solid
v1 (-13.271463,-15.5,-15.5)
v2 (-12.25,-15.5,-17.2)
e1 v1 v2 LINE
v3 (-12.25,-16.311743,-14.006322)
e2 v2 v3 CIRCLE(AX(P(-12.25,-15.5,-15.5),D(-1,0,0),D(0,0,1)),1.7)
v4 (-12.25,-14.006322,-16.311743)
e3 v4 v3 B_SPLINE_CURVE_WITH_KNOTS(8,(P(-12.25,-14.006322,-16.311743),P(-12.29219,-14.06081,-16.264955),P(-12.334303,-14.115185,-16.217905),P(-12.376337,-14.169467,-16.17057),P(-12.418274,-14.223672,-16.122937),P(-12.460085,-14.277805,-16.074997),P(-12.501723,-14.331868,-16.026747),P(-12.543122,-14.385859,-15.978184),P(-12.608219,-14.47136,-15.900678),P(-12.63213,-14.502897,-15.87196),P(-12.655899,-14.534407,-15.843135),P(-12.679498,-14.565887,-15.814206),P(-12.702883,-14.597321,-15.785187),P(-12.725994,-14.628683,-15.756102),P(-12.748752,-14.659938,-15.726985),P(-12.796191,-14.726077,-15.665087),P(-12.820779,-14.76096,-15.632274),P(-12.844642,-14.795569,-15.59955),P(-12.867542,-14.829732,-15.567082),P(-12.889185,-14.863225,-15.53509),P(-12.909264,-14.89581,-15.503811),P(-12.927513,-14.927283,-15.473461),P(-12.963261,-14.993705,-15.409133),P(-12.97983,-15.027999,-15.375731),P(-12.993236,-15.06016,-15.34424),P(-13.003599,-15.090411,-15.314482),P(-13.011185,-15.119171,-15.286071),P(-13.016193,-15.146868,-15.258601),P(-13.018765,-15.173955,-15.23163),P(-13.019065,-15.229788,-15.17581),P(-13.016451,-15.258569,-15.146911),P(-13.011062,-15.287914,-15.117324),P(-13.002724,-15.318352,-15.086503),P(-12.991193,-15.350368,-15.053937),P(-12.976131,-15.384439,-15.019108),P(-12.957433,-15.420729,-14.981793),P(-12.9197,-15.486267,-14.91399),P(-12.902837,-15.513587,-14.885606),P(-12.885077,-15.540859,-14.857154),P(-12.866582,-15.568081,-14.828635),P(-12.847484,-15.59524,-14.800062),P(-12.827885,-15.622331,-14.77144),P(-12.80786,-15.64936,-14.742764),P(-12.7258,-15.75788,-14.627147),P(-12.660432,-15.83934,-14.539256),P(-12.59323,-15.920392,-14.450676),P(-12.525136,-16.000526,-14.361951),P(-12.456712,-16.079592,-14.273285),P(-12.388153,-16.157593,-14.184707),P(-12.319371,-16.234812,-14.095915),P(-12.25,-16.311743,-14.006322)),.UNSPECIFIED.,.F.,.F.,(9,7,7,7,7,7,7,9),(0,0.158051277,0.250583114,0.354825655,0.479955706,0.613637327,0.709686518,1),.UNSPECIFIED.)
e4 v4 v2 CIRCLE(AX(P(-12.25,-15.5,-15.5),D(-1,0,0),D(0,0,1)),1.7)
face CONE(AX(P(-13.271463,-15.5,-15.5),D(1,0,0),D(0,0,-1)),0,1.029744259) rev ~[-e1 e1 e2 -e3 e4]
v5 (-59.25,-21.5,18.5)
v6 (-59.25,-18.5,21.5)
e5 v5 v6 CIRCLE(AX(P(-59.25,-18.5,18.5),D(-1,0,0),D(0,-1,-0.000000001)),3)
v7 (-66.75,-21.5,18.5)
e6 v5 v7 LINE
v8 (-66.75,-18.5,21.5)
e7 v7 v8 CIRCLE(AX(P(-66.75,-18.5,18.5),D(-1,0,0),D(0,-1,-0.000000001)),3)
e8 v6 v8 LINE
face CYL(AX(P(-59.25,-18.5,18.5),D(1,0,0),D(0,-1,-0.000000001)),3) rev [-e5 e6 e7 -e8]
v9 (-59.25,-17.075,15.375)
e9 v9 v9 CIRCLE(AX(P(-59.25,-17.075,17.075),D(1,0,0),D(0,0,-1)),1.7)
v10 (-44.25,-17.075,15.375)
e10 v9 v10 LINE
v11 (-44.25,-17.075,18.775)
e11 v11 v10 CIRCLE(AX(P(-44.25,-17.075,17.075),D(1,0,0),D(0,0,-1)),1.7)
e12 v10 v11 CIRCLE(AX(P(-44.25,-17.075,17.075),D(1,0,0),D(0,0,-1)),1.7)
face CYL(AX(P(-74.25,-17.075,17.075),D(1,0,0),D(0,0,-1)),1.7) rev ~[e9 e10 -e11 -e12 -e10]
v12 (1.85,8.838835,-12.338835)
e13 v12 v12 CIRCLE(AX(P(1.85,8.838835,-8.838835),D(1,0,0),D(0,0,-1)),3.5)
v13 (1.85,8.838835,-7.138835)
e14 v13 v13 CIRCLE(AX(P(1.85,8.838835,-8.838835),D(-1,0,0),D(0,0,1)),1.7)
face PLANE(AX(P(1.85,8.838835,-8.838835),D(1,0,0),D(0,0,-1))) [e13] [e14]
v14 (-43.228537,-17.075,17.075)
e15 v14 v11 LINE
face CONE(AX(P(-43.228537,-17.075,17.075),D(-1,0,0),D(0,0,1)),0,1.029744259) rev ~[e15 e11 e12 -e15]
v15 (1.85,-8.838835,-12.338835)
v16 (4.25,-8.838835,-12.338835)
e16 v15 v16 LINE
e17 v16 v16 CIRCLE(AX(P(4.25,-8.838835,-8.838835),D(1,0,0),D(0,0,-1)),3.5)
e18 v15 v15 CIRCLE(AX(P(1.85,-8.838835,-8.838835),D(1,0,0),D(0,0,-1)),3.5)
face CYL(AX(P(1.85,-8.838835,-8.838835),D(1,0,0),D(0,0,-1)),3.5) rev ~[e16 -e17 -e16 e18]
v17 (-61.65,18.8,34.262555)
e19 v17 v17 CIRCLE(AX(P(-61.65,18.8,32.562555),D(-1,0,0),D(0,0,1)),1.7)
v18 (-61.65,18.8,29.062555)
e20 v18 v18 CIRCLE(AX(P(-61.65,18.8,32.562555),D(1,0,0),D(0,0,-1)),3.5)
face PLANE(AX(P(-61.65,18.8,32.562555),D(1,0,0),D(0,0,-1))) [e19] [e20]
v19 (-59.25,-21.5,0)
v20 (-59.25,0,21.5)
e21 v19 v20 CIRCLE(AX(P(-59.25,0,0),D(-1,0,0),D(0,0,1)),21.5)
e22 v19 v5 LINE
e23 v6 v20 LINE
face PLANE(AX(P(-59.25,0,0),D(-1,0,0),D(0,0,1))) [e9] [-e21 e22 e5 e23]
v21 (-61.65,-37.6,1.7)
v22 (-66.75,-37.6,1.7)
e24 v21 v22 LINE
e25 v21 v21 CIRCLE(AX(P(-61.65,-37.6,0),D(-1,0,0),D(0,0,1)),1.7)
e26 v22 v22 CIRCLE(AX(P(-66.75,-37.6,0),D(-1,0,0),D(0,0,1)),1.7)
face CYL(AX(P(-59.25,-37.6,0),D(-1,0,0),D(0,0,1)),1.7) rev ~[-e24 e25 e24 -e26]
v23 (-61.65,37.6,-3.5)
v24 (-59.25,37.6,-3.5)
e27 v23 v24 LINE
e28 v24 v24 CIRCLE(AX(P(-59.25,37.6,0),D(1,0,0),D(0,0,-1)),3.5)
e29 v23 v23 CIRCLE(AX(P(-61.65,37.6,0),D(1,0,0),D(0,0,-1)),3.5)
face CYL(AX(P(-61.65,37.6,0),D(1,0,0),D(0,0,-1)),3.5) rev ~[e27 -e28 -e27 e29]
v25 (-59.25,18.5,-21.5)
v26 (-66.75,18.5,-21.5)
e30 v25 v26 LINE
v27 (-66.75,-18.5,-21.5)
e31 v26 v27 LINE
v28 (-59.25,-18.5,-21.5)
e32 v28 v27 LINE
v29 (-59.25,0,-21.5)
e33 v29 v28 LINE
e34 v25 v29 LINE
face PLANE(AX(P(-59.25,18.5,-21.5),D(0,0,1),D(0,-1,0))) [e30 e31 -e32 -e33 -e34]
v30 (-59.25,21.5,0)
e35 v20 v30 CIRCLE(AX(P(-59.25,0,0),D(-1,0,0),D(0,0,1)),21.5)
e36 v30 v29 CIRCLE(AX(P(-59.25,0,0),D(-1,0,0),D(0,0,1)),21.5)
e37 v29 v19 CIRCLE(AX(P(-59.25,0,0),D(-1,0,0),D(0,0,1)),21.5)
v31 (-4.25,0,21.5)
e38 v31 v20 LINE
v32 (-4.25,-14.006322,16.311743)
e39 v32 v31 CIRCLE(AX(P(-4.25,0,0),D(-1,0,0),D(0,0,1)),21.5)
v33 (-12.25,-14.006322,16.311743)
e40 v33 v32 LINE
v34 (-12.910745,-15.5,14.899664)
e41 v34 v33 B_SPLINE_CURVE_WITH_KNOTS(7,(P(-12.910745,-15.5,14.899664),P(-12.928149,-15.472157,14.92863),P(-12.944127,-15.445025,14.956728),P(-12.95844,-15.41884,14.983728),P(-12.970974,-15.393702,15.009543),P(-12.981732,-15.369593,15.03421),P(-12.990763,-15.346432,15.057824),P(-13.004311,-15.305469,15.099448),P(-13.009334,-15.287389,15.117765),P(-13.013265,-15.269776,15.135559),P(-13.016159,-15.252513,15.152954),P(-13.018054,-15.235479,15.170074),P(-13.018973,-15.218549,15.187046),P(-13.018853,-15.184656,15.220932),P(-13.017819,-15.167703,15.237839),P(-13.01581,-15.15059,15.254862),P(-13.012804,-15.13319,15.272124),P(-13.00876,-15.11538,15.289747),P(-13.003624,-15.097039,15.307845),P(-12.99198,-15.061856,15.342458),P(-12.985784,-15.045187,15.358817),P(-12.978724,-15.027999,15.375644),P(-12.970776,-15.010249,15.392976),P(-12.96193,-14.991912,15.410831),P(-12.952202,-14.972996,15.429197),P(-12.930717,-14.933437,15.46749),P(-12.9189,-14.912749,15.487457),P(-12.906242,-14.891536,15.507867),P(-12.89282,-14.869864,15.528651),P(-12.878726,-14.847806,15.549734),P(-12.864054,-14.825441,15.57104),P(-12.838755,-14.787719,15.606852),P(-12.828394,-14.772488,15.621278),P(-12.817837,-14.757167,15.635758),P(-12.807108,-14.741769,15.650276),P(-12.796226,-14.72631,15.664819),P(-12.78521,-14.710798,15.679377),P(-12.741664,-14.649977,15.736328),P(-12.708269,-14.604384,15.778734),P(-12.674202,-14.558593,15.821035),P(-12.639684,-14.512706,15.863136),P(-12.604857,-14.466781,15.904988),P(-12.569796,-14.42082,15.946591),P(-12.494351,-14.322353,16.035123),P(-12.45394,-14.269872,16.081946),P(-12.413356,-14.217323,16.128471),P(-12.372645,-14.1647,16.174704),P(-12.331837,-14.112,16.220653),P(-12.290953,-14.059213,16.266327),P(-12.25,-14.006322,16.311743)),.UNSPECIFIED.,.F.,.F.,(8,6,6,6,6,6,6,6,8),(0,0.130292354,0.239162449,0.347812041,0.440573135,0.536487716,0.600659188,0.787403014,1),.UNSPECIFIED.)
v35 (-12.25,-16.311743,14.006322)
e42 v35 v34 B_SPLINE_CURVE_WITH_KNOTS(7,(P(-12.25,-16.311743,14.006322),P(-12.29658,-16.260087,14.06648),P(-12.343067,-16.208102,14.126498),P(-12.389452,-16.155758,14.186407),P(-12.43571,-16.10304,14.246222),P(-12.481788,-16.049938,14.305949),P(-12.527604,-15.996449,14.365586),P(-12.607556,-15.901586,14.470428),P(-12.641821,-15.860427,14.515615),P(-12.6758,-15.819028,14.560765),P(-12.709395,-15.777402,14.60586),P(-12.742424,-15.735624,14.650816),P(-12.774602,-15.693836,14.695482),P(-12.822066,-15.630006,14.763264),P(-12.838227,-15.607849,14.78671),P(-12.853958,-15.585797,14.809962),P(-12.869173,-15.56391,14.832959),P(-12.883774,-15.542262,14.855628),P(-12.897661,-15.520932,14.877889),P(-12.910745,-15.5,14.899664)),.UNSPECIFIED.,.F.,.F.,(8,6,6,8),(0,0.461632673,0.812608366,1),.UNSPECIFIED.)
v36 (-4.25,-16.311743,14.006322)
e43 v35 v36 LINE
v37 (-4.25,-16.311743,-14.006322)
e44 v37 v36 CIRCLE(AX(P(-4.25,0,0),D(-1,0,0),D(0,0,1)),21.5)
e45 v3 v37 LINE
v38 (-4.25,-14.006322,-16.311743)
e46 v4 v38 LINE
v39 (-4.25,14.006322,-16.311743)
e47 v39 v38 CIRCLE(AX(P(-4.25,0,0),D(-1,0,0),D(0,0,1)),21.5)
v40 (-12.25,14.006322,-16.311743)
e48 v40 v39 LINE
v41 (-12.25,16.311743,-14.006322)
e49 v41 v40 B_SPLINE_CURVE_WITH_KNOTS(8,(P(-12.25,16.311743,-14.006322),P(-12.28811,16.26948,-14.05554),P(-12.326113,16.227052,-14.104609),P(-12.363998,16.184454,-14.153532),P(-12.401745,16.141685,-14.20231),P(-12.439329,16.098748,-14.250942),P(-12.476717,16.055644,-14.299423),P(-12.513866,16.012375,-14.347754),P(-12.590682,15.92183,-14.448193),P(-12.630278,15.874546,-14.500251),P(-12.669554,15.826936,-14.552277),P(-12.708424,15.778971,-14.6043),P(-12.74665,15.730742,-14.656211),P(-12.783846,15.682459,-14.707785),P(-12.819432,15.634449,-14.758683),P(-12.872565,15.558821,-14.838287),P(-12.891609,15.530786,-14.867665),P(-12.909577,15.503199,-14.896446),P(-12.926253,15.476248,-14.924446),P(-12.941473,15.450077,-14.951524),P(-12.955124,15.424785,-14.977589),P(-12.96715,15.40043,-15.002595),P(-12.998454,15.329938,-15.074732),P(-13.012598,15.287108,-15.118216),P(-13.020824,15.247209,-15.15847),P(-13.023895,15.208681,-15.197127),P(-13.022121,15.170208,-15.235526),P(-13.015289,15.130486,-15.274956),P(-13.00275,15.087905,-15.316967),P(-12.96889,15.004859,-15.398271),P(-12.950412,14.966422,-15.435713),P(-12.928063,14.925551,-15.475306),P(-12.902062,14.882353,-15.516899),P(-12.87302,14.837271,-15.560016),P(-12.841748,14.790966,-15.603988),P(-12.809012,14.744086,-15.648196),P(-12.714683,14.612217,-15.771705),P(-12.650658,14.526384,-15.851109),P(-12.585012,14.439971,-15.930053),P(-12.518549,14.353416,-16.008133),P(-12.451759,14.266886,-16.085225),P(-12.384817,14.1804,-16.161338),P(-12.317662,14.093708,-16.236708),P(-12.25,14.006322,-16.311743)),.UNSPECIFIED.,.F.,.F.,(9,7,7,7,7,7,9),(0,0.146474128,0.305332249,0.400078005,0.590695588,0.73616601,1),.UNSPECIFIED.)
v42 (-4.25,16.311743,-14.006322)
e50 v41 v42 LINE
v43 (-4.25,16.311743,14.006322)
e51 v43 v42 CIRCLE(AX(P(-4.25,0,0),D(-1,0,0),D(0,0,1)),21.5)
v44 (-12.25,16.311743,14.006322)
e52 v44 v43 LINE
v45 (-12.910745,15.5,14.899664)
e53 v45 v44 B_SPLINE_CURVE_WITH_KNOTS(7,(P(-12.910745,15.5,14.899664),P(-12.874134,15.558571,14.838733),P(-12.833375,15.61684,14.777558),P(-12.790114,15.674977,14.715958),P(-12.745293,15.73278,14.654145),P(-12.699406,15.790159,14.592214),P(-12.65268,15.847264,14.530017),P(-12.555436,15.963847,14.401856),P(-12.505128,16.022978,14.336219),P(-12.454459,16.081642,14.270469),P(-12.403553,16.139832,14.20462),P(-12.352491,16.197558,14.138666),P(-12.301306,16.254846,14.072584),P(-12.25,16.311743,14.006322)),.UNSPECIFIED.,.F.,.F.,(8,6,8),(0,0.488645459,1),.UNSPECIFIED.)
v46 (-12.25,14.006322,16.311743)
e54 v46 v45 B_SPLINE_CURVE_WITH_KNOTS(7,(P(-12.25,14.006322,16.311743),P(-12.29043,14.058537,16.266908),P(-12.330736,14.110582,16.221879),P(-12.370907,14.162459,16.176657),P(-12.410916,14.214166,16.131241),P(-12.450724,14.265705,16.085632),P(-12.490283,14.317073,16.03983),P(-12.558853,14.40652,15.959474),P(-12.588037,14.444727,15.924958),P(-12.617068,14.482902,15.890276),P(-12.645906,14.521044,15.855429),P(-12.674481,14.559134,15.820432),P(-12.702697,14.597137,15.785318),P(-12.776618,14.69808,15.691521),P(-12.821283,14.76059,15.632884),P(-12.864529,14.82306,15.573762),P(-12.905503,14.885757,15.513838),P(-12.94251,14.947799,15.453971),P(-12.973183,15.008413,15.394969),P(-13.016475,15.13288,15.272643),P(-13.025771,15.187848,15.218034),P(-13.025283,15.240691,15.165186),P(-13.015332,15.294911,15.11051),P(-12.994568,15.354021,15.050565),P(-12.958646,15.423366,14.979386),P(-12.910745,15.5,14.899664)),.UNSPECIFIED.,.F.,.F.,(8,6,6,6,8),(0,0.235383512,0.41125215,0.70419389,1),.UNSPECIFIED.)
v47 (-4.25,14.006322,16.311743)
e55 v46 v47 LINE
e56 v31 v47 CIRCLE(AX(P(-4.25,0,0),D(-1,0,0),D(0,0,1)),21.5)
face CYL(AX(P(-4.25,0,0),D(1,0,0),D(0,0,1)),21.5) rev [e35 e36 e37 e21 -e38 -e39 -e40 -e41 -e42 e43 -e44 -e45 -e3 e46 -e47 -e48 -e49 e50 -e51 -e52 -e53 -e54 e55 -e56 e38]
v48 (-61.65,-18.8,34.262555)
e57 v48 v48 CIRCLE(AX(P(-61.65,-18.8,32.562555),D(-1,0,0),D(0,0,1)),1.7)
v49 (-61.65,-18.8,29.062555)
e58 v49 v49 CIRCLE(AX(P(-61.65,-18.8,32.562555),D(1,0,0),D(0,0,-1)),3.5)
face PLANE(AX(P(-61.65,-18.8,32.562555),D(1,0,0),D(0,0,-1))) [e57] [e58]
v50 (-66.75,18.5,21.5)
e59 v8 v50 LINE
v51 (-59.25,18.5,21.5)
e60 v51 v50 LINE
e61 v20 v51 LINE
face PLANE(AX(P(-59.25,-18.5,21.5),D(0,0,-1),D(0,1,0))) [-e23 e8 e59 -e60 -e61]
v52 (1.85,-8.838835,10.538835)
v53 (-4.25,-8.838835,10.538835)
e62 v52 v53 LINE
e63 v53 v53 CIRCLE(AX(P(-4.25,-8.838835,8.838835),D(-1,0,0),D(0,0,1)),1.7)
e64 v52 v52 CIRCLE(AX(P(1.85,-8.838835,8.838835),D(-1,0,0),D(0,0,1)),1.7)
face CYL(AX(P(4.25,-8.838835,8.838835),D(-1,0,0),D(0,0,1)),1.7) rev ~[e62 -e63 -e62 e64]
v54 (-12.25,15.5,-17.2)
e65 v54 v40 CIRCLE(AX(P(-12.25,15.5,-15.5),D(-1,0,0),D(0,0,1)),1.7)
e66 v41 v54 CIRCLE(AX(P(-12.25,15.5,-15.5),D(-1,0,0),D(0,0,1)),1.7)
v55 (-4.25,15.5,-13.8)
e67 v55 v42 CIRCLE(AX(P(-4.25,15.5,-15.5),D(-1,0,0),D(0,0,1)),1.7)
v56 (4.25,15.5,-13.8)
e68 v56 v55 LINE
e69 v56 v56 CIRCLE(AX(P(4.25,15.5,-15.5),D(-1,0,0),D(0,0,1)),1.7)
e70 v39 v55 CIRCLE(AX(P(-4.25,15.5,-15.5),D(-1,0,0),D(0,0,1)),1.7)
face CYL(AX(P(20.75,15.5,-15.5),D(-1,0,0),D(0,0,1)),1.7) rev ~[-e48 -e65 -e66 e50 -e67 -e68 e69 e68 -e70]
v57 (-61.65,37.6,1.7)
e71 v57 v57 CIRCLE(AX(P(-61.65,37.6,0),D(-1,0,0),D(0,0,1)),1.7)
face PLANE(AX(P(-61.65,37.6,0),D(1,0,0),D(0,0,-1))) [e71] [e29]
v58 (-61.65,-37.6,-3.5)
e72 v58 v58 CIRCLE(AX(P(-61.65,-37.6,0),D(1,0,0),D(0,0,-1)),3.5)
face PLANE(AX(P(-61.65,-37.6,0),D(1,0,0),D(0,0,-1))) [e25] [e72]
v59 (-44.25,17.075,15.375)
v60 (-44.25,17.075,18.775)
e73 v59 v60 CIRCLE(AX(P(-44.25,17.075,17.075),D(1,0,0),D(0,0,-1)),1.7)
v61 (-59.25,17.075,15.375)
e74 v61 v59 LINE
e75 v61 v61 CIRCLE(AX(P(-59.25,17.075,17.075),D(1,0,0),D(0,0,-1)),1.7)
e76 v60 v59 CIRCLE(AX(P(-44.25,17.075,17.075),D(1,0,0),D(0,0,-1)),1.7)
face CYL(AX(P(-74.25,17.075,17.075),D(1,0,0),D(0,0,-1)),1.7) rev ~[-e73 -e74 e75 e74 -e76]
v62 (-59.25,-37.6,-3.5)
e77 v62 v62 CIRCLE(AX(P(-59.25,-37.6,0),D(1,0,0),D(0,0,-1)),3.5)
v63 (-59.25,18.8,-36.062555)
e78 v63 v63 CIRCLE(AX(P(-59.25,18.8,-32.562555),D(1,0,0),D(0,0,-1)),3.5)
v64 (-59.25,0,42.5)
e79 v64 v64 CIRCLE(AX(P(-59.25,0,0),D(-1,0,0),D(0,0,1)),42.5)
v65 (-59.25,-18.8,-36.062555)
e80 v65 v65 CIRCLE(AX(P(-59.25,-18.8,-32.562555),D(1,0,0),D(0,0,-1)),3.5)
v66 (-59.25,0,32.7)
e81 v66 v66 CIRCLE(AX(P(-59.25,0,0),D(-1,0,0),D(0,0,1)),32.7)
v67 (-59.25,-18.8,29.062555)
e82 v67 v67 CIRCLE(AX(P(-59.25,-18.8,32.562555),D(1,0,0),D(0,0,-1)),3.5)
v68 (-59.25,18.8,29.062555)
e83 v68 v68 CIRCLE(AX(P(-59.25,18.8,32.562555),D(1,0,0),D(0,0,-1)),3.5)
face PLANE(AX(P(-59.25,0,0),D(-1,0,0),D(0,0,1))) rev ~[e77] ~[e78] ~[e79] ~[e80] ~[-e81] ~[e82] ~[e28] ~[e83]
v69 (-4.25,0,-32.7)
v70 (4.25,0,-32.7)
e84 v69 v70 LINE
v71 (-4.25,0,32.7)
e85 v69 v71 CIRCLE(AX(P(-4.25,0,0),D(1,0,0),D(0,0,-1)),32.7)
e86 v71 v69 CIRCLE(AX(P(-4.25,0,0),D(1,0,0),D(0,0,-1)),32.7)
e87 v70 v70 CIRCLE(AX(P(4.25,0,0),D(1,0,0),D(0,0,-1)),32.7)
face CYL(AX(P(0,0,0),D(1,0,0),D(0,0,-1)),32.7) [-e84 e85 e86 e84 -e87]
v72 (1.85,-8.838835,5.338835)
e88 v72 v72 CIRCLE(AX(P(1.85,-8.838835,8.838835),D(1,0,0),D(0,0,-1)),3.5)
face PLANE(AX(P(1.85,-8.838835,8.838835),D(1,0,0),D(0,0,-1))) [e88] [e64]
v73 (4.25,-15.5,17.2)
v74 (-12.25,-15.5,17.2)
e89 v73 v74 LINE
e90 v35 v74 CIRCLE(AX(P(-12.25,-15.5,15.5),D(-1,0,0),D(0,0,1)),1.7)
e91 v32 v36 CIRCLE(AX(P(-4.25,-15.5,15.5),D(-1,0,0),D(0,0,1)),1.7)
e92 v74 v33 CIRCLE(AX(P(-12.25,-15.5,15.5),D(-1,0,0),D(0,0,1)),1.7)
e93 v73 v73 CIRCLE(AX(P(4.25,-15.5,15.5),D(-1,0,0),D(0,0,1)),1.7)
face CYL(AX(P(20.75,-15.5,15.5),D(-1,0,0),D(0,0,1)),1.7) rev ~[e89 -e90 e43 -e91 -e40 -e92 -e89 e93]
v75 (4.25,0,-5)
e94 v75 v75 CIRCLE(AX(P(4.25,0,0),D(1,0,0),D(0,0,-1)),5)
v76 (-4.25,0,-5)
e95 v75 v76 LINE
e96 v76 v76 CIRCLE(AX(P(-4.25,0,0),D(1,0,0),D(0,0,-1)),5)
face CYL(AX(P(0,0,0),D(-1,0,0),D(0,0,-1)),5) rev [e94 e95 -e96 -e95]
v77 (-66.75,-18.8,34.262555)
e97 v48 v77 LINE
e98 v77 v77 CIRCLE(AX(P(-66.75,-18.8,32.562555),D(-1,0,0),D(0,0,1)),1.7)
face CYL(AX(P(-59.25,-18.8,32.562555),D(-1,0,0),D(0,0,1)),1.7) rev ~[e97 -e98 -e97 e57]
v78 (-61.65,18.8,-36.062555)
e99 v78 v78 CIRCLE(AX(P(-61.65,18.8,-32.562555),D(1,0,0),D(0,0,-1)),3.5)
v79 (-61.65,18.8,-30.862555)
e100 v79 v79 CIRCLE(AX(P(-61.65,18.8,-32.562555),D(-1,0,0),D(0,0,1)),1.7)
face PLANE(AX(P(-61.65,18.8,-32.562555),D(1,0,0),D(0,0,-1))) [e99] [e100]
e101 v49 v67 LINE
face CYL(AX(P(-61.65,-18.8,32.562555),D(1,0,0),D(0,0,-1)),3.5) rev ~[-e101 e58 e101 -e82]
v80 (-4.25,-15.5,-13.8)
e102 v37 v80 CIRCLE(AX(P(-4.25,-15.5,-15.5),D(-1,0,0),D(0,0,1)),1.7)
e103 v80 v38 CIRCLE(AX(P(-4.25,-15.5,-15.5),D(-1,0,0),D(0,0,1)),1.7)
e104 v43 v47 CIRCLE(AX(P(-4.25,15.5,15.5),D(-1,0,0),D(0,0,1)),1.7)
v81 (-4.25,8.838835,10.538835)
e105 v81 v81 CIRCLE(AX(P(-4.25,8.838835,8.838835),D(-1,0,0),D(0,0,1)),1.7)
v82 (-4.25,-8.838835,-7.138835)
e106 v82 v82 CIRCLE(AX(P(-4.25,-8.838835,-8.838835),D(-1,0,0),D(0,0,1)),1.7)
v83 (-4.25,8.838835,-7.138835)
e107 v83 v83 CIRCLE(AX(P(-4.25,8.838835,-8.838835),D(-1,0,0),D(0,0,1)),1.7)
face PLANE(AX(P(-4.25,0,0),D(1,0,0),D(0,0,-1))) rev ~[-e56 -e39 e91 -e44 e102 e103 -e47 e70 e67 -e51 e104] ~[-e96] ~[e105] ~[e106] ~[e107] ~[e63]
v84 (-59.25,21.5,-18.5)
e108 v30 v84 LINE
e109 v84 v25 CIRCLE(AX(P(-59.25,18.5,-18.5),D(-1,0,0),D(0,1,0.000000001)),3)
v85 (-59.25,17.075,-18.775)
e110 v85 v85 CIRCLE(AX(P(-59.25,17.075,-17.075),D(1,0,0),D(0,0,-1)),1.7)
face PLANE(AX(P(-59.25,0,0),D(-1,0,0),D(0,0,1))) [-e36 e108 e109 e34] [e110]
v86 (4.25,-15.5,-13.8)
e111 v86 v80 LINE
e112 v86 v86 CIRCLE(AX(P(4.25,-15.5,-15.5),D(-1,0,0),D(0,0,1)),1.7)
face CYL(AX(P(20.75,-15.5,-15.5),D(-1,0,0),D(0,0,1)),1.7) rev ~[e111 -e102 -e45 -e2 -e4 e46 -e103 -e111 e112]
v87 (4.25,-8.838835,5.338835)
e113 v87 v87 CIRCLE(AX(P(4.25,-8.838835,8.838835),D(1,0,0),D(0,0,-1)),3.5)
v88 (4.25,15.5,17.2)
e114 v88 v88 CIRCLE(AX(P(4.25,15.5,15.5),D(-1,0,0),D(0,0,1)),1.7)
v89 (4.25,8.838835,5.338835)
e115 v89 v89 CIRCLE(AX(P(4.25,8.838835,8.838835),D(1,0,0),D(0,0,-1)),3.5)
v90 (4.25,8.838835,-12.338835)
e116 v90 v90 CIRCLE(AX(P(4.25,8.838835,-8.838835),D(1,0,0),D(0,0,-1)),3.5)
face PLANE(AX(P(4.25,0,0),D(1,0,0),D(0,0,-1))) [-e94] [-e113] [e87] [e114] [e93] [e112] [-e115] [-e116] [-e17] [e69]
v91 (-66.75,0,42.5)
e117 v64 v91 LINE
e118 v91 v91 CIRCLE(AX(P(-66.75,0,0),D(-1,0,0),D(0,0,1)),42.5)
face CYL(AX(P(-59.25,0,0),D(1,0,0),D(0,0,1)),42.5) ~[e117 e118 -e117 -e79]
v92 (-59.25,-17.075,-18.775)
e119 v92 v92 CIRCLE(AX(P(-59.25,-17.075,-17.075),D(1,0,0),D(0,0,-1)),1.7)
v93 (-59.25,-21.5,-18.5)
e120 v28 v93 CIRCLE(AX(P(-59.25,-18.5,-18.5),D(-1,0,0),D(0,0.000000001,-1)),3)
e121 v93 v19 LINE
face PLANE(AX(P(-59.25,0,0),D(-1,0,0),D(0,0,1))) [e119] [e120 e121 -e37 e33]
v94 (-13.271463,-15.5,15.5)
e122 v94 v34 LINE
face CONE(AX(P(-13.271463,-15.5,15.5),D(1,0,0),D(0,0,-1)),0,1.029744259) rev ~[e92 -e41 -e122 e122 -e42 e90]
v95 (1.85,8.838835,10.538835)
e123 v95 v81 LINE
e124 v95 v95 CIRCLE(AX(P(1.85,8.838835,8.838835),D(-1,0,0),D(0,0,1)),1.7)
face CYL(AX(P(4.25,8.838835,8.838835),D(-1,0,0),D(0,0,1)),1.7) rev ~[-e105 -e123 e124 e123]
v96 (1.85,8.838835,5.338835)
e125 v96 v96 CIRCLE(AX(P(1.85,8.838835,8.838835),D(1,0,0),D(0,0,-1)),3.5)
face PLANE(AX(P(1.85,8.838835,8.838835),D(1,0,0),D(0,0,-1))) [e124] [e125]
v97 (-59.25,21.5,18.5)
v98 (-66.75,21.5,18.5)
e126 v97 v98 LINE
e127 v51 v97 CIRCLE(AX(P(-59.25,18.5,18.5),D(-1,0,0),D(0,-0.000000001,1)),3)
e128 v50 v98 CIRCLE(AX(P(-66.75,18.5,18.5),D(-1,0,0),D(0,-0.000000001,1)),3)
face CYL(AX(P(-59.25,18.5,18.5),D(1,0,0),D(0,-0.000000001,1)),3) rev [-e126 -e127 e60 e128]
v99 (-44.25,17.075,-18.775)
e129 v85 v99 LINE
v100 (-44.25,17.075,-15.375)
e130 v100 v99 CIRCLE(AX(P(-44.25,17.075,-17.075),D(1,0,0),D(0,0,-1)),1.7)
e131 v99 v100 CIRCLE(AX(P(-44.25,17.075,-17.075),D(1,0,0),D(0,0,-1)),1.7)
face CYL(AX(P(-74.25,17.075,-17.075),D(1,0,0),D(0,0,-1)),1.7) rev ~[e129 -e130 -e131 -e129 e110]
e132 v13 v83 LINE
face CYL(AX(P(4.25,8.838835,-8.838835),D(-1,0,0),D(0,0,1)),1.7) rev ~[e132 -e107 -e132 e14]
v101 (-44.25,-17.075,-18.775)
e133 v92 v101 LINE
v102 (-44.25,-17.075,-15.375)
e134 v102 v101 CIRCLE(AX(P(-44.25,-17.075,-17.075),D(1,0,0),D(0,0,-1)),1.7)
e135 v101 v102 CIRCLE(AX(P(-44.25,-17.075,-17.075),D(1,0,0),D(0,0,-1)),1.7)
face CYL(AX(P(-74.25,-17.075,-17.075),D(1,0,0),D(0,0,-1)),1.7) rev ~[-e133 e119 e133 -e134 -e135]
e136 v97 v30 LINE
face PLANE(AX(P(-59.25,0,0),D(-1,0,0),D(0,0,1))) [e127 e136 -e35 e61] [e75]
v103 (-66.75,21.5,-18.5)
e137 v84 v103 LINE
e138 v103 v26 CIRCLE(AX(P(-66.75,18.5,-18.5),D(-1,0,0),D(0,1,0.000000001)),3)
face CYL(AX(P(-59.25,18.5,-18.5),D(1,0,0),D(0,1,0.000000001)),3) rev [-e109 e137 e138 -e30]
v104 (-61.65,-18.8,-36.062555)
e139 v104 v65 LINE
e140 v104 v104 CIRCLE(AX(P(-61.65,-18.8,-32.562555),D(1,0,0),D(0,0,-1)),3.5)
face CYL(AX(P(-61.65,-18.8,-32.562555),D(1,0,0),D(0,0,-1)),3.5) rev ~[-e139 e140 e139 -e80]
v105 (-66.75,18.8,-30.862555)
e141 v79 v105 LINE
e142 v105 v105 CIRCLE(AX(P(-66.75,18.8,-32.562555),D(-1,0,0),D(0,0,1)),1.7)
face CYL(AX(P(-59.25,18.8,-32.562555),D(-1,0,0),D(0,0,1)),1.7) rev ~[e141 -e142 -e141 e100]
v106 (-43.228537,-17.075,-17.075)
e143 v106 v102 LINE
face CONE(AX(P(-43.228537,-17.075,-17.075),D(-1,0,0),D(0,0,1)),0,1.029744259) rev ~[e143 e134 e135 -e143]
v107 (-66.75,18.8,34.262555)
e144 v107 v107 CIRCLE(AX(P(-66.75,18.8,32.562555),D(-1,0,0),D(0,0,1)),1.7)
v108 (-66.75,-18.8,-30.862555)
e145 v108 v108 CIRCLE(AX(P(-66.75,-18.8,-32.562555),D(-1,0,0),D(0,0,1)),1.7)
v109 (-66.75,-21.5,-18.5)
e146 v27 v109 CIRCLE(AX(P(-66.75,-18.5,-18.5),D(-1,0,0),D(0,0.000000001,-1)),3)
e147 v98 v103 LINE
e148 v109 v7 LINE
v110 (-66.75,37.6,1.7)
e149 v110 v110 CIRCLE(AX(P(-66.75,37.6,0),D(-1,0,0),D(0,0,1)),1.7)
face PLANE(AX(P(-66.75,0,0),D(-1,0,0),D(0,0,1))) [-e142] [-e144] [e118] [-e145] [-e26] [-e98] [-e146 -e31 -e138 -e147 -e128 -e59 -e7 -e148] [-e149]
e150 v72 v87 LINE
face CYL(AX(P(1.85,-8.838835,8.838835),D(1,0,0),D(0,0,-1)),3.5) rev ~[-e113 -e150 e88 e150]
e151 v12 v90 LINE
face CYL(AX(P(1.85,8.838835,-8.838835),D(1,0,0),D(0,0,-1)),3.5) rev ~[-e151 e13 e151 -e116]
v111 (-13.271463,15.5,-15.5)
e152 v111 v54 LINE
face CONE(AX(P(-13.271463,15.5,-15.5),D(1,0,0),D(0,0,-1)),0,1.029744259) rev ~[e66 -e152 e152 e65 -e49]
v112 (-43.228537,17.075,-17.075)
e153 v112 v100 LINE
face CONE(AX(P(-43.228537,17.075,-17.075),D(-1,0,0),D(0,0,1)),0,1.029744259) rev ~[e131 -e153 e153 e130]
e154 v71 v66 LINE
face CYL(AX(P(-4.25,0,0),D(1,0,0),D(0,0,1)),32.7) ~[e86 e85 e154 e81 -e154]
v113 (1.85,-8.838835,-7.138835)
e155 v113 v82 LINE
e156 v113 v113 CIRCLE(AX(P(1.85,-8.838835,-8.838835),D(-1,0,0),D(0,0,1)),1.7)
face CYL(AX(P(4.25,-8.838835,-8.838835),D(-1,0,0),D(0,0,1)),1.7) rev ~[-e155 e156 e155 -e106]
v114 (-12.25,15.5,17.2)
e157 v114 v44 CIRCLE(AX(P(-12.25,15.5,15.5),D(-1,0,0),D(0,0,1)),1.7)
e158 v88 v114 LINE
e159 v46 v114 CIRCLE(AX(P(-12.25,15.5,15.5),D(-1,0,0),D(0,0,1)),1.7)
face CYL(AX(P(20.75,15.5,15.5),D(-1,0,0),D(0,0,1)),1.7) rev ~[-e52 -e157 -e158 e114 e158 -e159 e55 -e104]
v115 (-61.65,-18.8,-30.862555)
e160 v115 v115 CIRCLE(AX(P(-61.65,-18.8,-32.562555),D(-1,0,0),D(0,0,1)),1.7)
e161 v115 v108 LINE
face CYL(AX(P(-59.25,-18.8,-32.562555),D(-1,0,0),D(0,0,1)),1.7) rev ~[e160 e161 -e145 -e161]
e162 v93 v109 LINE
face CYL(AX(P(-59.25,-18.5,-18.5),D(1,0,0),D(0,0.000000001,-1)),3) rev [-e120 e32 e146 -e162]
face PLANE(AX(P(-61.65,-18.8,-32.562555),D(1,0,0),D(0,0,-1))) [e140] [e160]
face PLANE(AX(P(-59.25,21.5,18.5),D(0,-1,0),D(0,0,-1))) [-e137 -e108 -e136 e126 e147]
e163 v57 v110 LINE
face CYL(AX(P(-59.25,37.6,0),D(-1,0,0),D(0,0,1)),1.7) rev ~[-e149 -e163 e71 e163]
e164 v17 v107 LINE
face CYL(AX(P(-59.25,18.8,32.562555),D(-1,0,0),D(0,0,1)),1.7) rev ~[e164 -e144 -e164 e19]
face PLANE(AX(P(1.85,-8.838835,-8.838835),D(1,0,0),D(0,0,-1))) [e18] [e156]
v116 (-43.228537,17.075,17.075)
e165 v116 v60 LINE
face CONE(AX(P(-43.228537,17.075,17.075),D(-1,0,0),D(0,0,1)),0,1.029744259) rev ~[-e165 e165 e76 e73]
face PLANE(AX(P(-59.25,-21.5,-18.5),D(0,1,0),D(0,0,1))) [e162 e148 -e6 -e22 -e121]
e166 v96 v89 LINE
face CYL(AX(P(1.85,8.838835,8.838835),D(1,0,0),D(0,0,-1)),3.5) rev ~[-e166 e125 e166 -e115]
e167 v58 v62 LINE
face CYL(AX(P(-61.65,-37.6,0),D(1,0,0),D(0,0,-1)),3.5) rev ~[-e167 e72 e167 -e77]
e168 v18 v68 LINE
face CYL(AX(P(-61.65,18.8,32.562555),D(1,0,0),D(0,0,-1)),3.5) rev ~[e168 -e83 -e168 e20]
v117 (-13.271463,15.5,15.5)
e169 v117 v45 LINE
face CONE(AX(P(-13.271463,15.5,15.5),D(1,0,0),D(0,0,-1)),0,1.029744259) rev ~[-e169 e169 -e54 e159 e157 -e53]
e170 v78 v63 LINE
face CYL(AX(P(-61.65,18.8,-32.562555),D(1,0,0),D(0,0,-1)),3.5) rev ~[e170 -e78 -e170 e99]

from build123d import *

# Parameters (mm, degrees)
CROQUIS1_R                                           = 32.7
CROQUIS1_R_2                                         = 5
SALIENTE_EXTRUIR1_DEPTH                              = 4.25
REFRENTADO_PARA_TORNILLO_CON_CABEZA_TRON_D           = 3.4
REFRENTADO_PARA_TORNILLO_CON_CABEZA_TRON_CBORE_D     = 7
REFRENTADO_PARA_TORNILLO_CON_CABEZA_TRON_CBORE_DEPTH = 2.4
CROQUIS5_R                                           = 32.7
CROQUIS5_R_2                                         = 21.5
SALIENTE_EXTRUIR2_DEPTH                              = 55
TALADRO_DE_MARGEN_PARA_M31_D                         = 3.4
TALADRO_DE_MARGEN_PARA_M31_DEPTH                     = 15
TALADRO_DE_MARGEN_PARA_M31_TIP                       = 1.021463052
TALADRO_DE_MARGEN_PARA_M32_D                         = 3.4
TALADRO_DE_MARGEN_PARA_M32_DEPTH                     = 16.5
TALADRO_DE_MARGEN_PARA_M32_TIP                       = 1.021463052
CROQUIS16_R                                          = 42.5
SALIENTE_EXTRUIR3_DEPTH                              = 7.5
REFRENTADO_PARA_TORNILLO_CON_CABEZA_2_D              = 3.4
REFRENTADO_PARA_TORNILLO_CON_CABEZA_2_CBORE_D        = 7
REFRENTADO_PARA_TORNILLO_CON_CABEZA_2_CBORE_DEPTH    = 2.4


with BuildPart() as part:
    # Croquis1 → Saliente-Extruir1 (new, symmetric)
    with BuildSketch(Plane(origin=(0, 0, 0), x_dir=(0, 0, -1), z_dir=(1, 0, 0))):
        Circle(CROQUIS1_R)
        Circle(CROQUIS1_R_2, mode=Mode.SUBTRACT)
    extrude(amount=SALIENTE_EXTRUIR1_DEPTH, both=True)

    # Refrentado para tornillo con cabeza tron (through all)
    with Locations(Plane(origin=(4.25, 0, 0), x_dir=(0, 0, -1), z_dir=(1, 0, 0))):
        with Locations((8.838834765, 8.838834765), (-8.838834765, -8.838834765), (-8.838834765, 8.838834765), (8.838834765, -8.838834765)):
            CounterBoreHole(REFRENTADO_PARA_TORNILLO_CON_CABEZA_TRON_D / 2, REFRENTADO_PARA_TORNILLO_CON_CABEZA_TRON_CBORE_D / 2, REFRENTADO_PARA_TORNILLO_CON_CABEZA_TRON_CBORE_DEPTH)

    # Croquis5 → Saliente-Extruir2 (add)
    with BuildSketch(Plane.ZY.offset(4.25)):
        Circle(CROQUIS5_R)
        Circle(CROQUIS5_R_2, mode=Mode.SUBTRACT)
    extrude(amount=SALIENTE_EXTRUIR2_DEPTH)

    # Taladro de margen para M31
    with Locations(Plane.ZY.offset(59.25)):
        with Locations((17.075, 17.075), (-17.075, -17.075), (-17.075, 17.075), (17.075, -17.075)):
            Hole(TALADRO_DE_MARGEN_PARA_M31_D / 2, depth=TALADRO_DE_MARGEN_PARA_M31_DEPTH)
            with Locations((0, 0, -(TALADRO_DE_MARGEN_PARA_M31_DEPTH + TALADRO_DE_MARGEN_PARA_M31_TIP / 2))):  # 118° drill point
                Cone(0, TALADRO_DE_MARGEN_PARA_M31_D / 2, TALADRO_DE_MARGEN_PARA_M31_TIP, mode=Mode.SUBTRACT)

    # Taladro de margen para M32
    with Locations(Plane(origin=(4.25, 0, 0), x_dir=(0, 0, -1), z_dir=(1, 0, 0))):
        with Locations((15.5, 15.5), (-15.5, -15.5), (-15.5, 15.5), (15.5, -15.5)):
            Hole(TALADRO_DE_MARGEN_PARA_M32_D / 2, depth=TALADRO_DE_MARGEN_PARA_M32_DEPTH)
            with Locations((0, 0, -(TALADRO_DE_MARGEN_PARA_M32_DEPTH + TALADRO_DE_MARGEN_PARA_M32_TIP / 2))):  # 118° drill point
                Cone(0, TALADRO_DE_MARGEN_PARA_M32_D / 2, TALADRO_DE_MARGEN_PARA_M32_TIP, mode=Mode.SUBTRACT)

    # Croquis16 → Saliente-Extruir3 (add)
    with BuildSketch(Plane.ZY.offset(59.25)):
        Circle(CROQUIS16_R)
        with BuildLine():
            Line((-18.5, -21.5), (18.5, -21.5))
            ThreePointArc((18.5, -21.5), (20.621320344, -20.621320344), (21.5, -18.5))
            Line((21.5, -18.5), (21.5, 18.5))
            ThreePointArc((21.5, 18.5), (20.621320344, 20.621320344), (18.5, 21.5))
            Line((18.5, 21.5), (-18.5, 21.5))
            ThreePointArc((-18.5, 21.5), (-20.621320344, 20.621320344), (-21.5, 18.5))
            Line((-21.5, 18.5), (-21.5, -18.5))
            ThreePointArc((-21.5, -18.5), (-20.621320344, -20.621320344), (-18.5, -21.5))
        make_face(mode=Mode.SUBTRACT)
    extrude(amount=SALIENTE_EXTRUIR3_DEPTH)

    # Refrentado para tornillo con cabeza  2 (through all)
    with Locations(Plane(origin=(-59.25, 0, 0), x_dir=(0, 0, -1), z_dir=(1, 0, 0))):
        with Locations((-32.562555182, 18.8), (0, 37.6), (32.562555182, 18.8), (32.562555182, -18.8), (0, -37.6), (-32.562555182, -18.8)):
            CounterBoreHole(REFRENTADO_PARA_TORNILLO_CON_CABEZA_2_D / 2, REFRENTADO_PARA_TORNILLO_CON_CABEZA_2_CBORE_D / 2, REFRENTADO_PARA_TORNILLO_CON_CABEZA_2_CBORE_DEPTH)


solid = part.part
